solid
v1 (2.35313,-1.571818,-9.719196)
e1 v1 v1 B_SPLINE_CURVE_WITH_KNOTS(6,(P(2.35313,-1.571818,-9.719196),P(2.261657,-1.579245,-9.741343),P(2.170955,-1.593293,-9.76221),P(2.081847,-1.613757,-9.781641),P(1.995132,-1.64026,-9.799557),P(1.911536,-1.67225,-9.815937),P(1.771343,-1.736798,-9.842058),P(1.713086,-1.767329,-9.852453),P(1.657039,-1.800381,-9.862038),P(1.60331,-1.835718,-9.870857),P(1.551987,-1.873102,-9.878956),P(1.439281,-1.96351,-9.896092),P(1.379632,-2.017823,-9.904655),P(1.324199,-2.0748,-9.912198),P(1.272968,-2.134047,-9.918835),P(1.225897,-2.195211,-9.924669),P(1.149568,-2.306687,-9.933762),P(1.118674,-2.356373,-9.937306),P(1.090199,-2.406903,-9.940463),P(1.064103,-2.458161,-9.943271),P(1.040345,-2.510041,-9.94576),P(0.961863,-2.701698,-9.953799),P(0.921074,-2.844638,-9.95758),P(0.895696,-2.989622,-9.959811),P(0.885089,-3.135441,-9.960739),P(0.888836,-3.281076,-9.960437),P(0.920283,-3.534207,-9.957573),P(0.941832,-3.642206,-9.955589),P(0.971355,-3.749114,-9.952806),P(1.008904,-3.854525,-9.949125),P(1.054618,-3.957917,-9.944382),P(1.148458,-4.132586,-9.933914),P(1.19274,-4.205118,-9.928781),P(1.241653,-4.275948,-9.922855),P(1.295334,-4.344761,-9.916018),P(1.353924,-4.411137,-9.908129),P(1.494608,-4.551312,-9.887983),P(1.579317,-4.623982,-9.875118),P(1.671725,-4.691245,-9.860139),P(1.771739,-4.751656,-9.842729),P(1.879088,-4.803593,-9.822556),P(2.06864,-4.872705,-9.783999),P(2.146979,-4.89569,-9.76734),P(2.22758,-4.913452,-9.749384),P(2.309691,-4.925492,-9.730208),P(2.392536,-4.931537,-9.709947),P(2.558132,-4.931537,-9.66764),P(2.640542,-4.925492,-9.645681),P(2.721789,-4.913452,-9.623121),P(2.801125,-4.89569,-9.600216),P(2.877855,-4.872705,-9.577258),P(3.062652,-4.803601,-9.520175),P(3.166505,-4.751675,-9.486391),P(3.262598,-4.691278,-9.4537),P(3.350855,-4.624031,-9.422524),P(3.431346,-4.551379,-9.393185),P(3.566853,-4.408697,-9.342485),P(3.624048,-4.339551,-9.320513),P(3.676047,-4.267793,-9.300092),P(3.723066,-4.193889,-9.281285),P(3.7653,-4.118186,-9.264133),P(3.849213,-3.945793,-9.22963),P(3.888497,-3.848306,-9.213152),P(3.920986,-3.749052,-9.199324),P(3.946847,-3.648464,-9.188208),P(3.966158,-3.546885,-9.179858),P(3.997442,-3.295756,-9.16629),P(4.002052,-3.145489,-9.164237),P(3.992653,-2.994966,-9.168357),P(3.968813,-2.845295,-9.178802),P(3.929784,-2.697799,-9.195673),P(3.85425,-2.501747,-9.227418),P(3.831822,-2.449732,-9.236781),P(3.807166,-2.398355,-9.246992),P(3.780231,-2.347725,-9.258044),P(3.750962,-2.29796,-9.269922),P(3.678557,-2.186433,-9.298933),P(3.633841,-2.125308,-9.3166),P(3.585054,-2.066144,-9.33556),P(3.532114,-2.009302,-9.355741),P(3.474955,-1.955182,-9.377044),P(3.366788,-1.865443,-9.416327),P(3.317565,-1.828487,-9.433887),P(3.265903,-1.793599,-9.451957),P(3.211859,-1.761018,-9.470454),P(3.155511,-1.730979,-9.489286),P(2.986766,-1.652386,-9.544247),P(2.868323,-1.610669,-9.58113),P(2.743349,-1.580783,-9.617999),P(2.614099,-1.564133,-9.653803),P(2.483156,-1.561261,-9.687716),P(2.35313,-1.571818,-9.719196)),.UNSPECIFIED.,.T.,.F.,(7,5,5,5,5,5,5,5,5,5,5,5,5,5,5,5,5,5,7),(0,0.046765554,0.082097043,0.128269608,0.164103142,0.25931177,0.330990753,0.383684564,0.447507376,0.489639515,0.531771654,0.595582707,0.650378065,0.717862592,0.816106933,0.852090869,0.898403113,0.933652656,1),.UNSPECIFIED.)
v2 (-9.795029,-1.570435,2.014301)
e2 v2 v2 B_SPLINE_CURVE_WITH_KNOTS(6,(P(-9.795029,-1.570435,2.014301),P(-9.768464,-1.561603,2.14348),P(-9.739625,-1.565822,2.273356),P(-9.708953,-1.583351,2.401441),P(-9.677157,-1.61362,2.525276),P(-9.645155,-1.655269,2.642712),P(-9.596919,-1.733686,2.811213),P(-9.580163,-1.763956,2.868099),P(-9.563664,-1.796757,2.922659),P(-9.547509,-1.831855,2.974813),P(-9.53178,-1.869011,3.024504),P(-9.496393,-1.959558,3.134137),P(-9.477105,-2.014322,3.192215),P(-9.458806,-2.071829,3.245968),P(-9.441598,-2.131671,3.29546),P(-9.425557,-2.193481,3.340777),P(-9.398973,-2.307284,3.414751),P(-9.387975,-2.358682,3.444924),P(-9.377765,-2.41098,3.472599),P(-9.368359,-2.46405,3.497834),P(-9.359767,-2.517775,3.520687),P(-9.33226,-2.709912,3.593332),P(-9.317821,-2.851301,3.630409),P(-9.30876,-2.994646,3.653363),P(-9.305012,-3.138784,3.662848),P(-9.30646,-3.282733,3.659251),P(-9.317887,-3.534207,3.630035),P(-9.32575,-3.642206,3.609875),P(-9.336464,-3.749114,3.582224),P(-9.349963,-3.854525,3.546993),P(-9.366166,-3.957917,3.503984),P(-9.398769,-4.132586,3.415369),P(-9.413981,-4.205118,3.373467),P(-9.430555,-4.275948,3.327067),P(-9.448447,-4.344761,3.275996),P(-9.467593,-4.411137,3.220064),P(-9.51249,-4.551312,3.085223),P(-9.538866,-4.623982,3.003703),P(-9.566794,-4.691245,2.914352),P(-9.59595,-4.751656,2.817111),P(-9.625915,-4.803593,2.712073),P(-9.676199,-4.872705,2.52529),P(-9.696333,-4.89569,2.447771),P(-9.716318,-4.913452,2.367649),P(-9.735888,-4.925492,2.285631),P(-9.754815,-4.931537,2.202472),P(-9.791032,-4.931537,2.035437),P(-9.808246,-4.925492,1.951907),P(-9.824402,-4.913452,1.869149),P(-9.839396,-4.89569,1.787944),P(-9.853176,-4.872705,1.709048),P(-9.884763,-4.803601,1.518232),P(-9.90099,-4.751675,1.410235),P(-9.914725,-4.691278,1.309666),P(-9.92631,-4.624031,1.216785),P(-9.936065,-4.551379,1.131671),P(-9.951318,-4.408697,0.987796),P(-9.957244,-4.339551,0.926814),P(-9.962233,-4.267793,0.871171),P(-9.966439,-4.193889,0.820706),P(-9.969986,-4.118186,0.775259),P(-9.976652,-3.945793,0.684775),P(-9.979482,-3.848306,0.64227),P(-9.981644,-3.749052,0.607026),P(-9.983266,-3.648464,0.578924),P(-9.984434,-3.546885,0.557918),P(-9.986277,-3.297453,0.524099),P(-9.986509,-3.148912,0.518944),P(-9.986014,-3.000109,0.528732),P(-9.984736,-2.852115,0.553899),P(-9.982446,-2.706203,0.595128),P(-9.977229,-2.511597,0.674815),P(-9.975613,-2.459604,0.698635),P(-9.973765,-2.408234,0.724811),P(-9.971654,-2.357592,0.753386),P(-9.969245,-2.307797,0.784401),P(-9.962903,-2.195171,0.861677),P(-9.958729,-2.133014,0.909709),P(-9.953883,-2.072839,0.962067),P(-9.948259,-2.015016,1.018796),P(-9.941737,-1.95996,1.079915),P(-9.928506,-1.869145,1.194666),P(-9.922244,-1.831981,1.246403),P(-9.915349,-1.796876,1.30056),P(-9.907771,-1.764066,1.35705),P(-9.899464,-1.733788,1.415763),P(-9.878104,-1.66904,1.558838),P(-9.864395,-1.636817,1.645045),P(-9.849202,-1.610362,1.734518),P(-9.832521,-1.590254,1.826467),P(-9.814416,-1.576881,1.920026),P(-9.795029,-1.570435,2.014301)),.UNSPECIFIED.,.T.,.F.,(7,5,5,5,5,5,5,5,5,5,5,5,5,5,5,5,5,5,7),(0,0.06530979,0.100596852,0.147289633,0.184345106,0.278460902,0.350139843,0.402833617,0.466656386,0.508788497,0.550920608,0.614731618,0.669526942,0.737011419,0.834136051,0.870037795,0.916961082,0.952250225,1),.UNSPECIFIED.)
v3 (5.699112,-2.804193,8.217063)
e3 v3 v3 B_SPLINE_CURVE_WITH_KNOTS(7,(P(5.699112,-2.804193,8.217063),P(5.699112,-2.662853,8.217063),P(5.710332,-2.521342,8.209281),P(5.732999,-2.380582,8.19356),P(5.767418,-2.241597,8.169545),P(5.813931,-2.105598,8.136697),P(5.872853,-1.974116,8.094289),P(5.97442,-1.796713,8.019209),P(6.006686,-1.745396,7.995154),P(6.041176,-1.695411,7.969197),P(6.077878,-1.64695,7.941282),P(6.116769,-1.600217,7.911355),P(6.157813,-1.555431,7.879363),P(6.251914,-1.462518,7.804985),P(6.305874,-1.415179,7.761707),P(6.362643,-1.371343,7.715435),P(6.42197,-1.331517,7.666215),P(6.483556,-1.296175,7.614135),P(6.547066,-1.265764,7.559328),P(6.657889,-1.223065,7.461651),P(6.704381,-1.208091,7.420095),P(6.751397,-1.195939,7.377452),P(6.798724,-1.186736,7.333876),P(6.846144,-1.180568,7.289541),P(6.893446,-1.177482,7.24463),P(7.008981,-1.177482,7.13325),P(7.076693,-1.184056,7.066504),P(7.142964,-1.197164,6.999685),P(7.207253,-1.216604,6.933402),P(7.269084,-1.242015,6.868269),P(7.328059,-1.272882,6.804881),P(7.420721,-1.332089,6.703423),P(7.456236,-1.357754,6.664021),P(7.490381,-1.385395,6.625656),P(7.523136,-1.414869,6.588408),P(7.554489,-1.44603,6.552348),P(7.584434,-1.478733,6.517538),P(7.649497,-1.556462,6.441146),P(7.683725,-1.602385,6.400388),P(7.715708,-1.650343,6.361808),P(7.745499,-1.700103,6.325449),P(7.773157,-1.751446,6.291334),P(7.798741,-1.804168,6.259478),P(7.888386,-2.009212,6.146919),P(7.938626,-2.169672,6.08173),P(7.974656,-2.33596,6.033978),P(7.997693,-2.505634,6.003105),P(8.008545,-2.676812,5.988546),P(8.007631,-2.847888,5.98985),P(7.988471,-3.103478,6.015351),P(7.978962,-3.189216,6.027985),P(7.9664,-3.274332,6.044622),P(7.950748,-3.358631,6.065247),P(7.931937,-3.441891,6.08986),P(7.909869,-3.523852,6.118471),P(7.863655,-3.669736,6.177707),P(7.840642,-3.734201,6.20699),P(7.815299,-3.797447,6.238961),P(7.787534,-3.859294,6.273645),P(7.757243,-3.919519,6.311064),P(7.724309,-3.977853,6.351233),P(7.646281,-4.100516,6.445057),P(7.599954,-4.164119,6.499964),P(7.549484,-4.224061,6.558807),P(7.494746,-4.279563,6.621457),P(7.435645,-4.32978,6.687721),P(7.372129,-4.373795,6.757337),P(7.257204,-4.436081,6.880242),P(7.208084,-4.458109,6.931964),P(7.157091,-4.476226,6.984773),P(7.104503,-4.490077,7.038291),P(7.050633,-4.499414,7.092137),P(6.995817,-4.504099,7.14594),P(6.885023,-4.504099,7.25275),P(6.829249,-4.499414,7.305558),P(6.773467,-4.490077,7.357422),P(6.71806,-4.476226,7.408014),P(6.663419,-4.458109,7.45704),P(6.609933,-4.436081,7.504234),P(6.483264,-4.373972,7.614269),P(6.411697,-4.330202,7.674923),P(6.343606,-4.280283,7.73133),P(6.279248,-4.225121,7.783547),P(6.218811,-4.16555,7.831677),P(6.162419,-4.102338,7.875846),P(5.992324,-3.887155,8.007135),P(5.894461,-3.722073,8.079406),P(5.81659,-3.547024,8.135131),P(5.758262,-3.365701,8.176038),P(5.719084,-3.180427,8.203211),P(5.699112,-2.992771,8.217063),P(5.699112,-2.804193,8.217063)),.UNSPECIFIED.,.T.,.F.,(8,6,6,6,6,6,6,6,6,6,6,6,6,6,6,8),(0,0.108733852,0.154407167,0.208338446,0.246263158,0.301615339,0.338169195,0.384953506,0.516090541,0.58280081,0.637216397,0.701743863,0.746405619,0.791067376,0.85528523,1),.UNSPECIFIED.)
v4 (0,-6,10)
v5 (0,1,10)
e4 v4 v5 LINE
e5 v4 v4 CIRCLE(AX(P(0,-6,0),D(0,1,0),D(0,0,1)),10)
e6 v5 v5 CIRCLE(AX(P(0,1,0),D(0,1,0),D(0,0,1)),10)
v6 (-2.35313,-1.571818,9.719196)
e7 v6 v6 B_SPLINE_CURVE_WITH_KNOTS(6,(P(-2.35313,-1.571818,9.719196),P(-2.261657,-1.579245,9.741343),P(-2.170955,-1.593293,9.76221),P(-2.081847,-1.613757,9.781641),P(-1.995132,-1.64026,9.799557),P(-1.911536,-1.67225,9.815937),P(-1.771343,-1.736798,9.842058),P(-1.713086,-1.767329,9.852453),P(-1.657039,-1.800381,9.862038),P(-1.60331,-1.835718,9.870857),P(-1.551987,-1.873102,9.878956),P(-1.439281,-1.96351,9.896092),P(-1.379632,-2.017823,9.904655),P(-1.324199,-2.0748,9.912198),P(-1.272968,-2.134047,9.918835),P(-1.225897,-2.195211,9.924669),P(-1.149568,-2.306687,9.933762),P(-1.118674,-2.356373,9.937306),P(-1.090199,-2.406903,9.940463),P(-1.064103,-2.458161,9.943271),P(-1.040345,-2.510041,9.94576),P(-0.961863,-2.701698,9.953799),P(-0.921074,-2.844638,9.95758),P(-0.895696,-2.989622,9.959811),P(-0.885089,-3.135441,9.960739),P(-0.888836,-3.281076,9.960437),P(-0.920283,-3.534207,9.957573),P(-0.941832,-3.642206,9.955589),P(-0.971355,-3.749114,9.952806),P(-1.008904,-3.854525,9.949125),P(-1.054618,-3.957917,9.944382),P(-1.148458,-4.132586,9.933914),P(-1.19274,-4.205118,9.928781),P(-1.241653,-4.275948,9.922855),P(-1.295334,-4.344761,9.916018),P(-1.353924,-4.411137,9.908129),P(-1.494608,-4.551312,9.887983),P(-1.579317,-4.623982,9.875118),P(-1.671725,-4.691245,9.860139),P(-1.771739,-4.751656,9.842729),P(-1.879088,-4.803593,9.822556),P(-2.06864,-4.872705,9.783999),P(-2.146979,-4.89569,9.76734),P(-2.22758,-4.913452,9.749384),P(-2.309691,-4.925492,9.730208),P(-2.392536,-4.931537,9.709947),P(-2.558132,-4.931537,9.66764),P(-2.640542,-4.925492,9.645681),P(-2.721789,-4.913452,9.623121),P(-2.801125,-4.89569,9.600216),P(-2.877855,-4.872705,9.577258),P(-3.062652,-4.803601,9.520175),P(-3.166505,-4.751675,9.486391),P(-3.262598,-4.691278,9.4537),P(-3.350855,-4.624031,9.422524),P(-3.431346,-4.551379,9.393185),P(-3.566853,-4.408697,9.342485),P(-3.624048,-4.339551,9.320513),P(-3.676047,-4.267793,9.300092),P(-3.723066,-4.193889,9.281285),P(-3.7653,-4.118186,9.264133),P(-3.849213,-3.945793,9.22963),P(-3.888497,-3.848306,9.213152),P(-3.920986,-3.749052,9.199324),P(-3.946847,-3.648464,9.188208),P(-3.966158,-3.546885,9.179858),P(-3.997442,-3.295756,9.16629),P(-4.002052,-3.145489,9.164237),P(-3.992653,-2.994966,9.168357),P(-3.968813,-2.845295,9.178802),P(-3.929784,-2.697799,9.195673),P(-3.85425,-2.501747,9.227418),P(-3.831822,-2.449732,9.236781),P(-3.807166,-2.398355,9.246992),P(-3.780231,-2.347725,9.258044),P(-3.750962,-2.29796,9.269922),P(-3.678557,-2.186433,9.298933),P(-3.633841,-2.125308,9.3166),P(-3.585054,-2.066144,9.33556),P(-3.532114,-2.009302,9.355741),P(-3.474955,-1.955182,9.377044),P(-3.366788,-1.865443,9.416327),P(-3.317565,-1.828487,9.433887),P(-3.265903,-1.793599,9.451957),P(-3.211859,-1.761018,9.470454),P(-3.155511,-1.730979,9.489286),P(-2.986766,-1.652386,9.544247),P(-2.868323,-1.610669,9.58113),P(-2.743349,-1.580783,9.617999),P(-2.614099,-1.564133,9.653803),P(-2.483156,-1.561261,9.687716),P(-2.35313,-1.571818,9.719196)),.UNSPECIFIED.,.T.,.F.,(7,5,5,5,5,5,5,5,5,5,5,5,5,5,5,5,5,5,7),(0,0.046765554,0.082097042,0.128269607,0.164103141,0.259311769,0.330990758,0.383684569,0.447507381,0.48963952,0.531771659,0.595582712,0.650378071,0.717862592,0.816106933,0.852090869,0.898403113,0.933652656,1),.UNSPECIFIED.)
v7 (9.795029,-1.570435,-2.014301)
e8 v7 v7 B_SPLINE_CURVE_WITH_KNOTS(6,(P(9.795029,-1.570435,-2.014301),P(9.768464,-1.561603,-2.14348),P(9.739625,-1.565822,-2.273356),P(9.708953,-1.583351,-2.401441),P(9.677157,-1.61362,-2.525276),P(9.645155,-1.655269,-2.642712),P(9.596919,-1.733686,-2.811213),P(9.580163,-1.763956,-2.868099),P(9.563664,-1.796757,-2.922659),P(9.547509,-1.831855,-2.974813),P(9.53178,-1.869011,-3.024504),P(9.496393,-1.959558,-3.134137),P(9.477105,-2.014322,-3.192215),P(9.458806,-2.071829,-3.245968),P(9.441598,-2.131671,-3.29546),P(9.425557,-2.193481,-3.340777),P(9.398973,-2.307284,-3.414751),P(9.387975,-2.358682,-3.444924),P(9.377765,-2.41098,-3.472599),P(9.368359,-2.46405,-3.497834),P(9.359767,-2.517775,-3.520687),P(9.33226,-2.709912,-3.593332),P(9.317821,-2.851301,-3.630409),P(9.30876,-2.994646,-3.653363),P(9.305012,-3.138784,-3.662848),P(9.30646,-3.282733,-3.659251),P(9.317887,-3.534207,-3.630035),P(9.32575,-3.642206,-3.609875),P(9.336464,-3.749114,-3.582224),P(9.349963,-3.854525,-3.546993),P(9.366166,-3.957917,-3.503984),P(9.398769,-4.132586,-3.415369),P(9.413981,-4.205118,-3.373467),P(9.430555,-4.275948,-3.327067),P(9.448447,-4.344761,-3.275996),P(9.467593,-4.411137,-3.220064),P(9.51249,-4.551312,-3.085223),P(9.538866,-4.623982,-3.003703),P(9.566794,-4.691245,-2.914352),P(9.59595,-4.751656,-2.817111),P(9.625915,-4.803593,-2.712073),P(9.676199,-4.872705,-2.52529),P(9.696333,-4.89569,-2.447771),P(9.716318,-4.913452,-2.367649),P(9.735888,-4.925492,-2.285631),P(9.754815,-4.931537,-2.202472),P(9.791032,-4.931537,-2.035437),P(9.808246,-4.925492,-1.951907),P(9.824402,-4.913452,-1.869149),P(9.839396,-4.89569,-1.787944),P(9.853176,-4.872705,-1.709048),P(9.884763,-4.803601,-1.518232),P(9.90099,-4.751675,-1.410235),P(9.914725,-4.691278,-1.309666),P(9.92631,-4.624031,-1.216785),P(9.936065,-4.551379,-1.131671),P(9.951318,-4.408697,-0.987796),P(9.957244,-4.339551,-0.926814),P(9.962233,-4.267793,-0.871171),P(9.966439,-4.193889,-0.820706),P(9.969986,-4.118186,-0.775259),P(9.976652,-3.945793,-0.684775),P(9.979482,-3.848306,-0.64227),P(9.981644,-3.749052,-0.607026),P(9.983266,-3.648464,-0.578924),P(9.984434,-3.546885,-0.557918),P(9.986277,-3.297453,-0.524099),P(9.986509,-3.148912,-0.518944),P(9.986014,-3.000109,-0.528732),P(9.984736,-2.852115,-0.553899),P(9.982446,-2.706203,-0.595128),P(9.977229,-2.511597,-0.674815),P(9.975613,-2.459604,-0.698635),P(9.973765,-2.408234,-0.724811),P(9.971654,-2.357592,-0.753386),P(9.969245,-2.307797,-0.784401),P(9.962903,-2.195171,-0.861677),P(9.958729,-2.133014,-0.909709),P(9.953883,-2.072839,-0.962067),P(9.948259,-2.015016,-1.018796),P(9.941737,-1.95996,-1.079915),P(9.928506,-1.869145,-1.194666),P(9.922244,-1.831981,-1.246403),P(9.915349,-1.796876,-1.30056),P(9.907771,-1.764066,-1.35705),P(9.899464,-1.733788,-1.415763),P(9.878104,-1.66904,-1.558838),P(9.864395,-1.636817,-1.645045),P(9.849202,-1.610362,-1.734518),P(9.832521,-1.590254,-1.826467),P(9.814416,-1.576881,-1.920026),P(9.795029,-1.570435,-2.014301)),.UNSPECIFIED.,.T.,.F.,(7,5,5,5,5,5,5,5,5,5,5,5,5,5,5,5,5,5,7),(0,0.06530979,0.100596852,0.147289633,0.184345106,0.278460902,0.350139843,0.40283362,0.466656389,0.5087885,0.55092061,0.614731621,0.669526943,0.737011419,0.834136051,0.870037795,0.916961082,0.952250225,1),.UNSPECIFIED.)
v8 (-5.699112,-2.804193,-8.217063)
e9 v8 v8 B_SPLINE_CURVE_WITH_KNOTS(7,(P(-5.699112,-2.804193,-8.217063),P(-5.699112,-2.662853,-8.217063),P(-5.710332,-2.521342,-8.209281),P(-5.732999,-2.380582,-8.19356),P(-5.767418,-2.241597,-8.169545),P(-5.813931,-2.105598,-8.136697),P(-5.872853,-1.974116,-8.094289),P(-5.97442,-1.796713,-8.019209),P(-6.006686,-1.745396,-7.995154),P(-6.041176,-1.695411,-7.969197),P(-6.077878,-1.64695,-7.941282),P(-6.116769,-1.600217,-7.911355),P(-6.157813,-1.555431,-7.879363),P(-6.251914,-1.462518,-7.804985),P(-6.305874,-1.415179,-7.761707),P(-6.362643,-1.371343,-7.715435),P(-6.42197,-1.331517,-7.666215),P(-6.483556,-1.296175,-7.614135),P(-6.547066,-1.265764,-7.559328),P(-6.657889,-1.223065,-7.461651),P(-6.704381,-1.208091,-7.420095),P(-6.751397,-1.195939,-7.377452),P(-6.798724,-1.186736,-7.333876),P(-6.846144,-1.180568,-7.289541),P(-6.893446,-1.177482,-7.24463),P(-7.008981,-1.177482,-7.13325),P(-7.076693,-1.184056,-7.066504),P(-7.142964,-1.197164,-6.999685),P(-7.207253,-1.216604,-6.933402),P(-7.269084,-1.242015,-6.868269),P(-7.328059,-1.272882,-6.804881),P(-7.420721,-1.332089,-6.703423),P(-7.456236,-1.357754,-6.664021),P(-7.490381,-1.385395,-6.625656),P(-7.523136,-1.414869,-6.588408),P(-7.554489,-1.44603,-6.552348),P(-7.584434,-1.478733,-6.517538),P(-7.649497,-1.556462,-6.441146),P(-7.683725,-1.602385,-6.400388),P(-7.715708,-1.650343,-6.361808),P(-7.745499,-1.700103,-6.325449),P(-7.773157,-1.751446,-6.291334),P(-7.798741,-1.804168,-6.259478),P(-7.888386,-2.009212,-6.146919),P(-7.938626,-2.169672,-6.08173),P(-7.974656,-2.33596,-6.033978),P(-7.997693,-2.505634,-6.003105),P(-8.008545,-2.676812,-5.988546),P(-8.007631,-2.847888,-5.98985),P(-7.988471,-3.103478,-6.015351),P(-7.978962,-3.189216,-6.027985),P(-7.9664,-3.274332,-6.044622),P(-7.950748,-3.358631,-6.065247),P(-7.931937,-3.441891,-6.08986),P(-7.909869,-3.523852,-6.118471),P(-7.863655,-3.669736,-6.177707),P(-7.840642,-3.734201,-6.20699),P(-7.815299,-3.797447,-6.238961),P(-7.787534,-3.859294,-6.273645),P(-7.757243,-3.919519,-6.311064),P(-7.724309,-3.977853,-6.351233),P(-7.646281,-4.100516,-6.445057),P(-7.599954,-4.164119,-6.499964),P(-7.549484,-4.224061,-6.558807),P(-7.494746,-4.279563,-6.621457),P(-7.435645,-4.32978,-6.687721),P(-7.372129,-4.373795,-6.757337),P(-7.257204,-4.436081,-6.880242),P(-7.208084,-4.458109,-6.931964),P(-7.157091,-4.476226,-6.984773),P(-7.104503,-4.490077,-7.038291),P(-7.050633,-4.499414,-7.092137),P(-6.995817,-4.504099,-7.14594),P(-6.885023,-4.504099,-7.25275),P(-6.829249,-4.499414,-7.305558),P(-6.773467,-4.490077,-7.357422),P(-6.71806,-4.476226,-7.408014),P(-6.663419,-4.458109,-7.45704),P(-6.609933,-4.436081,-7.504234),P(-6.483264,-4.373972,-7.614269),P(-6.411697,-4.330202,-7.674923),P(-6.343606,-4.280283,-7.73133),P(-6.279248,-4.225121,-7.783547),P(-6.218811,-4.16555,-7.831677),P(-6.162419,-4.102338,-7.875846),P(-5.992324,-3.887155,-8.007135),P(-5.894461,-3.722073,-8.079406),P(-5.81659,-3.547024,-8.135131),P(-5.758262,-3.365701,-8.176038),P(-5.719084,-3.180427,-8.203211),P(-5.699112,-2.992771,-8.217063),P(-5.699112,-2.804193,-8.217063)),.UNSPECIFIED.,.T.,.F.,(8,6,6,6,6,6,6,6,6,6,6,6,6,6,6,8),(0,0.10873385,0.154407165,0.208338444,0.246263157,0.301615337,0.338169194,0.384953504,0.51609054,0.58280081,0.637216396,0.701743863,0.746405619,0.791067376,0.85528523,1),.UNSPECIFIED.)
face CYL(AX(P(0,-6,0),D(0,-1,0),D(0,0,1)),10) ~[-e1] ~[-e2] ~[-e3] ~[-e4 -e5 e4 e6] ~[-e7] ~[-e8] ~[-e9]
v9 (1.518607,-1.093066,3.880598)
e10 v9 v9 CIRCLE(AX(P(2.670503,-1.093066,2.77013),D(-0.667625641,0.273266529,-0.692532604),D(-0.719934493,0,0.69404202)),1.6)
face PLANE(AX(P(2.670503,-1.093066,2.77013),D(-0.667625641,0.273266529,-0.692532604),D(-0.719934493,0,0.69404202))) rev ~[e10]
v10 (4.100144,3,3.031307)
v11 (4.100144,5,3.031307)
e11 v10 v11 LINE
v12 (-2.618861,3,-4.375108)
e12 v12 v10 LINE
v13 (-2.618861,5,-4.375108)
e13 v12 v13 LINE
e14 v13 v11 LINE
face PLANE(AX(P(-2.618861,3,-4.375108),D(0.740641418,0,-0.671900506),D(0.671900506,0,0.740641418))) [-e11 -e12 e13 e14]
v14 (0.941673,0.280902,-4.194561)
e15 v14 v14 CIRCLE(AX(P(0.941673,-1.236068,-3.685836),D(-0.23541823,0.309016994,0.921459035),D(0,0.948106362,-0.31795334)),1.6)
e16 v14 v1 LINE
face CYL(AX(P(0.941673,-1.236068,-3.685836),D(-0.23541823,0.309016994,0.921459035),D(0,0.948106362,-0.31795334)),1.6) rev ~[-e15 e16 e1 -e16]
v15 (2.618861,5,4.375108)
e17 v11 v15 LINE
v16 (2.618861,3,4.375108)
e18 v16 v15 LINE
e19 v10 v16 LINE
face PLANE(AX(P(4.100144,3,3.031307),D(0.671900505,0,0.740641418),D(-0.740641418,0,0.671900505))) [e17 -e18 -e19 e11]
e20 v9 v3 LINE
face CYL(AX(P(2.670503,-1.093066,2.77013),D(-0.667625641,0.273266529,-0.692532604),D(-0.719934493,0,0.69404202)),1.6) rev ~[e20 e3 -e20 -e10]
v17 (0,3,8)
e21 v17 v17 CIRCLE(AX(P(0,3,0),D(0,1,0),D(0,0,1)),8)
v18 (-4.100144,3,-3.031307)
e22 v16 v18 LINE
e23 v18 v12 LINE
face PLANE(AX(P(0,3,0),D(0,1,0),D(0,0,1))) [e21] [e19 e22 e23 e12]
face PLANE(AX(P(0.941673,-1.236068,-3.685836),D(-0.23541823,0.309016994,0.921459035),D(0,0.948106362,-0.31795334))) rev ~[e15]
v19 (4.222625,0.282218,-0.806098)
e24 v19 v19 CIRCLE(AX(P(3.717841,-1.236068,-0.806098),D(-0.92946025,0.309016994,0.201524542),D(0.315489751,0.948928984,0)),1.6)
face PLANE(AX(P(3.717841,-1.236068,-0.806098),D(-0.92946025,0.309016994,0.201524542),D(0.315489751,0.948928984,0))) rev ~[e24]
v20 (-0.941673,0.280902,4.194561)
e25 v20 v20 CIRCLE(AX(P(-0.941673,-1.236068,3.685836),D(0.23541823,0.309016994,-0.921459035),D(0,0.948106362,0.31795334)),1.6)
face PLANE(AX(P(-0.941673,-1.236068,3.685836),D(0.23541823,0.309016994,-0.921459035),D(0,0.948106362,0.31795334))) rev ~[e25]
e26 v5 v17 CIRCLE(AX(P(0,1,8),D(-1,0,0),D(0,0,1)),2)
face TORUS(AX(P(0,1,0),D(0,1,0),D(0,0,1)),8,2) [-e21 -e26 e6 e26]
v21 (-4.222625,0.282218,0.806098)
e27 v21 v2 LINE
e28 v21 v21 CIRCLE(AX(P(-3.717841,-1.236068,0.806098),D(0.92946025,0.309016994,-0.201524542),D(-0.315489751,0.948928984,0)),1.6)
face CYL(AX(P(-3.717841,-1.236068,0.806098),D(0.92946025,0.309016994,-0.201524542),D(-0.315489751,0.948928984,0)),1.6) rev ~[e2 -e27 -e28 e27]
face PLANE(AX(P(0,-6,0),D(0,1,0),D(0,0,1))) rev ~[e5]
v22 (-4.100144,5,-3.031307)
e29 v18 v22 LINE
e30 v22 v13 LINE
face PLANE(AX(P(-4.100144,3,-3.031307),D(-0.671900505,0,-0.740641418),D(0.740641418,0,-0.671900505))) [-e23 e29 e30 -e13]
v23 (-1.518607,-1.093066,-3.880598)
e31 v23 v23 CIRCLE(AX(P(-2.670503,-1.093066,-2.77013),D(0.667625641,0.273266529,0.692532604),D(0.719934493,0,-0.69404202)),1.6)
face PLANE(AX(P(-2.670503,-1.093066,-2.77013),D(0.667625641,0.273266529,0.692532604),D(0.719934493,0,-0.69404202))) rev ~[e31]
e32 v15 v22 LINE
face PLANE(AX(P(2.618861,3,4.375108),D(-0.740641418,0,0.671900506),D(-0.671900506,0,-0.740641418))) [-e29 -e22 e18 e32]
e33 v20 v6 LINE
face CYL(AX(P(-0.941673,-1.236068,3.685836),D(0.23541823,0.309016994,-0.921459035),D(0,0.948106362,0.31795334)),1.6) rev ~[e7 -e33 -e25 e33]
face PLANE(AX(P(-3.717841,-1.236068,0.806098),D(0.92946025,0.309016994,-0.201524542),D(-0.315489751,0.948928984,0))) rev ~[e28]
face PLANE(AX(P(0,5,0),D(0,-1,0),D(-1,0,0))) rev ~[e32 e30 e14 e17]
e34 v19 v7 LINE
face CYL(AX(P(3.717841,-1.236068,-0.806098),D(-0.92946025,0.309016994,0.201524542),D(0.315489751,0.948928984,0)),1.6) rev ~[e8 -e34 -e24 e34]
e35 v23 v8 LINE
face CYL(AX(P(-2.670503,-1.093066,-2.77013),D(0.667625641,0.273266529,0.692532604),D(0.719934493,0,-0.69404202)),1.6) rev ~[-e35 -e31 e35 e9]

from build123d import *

# Parameters (mm, degrees)
BASE_DEPTH          = 3
BASE_DEPTH_BACK     = 6
SKETCH1_R           = 10
SKETCH2_R           = 1.6
HOLE1_DEPTH         = 19.646604683
HOLE1MIRROR_COUNT   = 2
SKETCH3_R           = 1.6
HOLE2_DEPTH         = 19.158121362
HOLE2MIRROR_COUNT   = 2
SKETCH4_R           = 1.6
HOLE3_DEPTH         = 19.100993715
HOLE3MIRROR_COUNT   = 2
FILLET1_R           = 2
BOSS_EXTRUDE1_DEPTH = 2


with BuildPart() as part:
    # Sketch1 → base (new, two sides: drawn at the far end of the back side and taken through both)
    with BuildSketch(Plane(origin=(0, 0, 0), x_dir=(1, 0, 0), z_dir=(0, 1, 0)).offset(-BASE_DEPTH_BACK)):
        Circle(SKETCH1_R)
    extrude(amount=BASE_DEPTH + BASE_DEPTH_BACK)

    # Sketch2 → hole1 (cut, through all)
    with BuildSketch(Plane(origin=(2.670502563, -1.093066116, 2.770130417), x_dir=(-0.6558691872850446, 0.22429081675253856, 0.7207837669443827), z_dir=(-0.6676256406563905, 0.27326652891267483, -0.692532604369038))):
        Circle(SKETCH2_R)
    hole1 = extrude(amount=-HOLE1_DEPTH, mode=Mode.SUBTRACT)

    # hole1mirror: hole1 ×2 about axis
    hole1mirror_axis = Axis((0, 5.5, 0), (0, -1, 0))
    for i in range(1, HOLE1MIRROR_COUNT):
        add(hole1.rotate(hole1mirror_axis, i * 360 / HOLE1MIRROR_COUNT), mode=Mode.SUBTRACT)

    # Sketch3 → hole2 (cut, through all)
    with BuildSketch(Plane(origin=(-0.941672921, -1.236067977, 3.685836142), x_dir=(-0.9718935871364875, 0.07382318789513377, -0.22354639834264944), z_dir=(0.23541823021467095, 0.3090169943749464, -0.921459035481267))):
        Circle(SKETCH3_R)
    hole2 = extrude(amount=-HOLE2_DEPTH, mode=Mode.SUBTRACT)

    # hole2mirror: hole2 ×2 about axis
    hole2mirror_axis = Axis((0, 5.5, 0), (0, -1, 0))
    for i in range(1, HOLE2MIRROR_COUNT):
        add(hole2.rotate(hole2mirror_axis, i * 360 / HOLE2MIRROR_COUNT), mode=Mode.SUBTRACT)

    # Sketch4 → hole3 (cut, through all)
    with BuildSketch(Plane(origin=(-3.717841, -1.236067977, 0.806098168), x_dir=(-0.19123247894507908, -0.06357892752956036, -0.979483465389136), z_dir=(0.9294602499075393, 0.30901699437494623, -0.20152454200243008))):
        Circle(SKETCH4_R)
    hole3 = extrude(amount=-HOLE3_DEPTH, mode=Mode.SUBTRACT)

    # hole3mirror: hole3 ×2 about axis
    hole3mirror_axis = Axis((0, 5.5, 0), (0, -1, 0))
    for i in range(1, HOLE3MIRROR_COUNT):
        add(hole3.rotate(hole3mirror_axis, i * 360 / HOLE3MIRROR_COUNT), mode=Mode.SUBTRACT)

    # Fillet1
    fillet1_edges = [part.edges().sort_by_distance(p)[0] for p in [
        (-10, 3, 0),
    ]]
    fillet(fillet1_edges, radius=FILLET1_R)

    # Sketch6 → Boss-Extrude1 (add)
    with BuildSketch(Plane(origin=(0, 3, 0), x_dir=(1, 0, 0), z_dir=(0, 1, 0))):
        Polygon((-4.100143947, 3.031306586), (-2.61886111, 4.375107597), (4.100143947, -3.031306586), (2.61886111, -4.375107597), align=None)
    extrude(amount=BOSS_EXTRUDE1_DEPTH)


solid = part.part
